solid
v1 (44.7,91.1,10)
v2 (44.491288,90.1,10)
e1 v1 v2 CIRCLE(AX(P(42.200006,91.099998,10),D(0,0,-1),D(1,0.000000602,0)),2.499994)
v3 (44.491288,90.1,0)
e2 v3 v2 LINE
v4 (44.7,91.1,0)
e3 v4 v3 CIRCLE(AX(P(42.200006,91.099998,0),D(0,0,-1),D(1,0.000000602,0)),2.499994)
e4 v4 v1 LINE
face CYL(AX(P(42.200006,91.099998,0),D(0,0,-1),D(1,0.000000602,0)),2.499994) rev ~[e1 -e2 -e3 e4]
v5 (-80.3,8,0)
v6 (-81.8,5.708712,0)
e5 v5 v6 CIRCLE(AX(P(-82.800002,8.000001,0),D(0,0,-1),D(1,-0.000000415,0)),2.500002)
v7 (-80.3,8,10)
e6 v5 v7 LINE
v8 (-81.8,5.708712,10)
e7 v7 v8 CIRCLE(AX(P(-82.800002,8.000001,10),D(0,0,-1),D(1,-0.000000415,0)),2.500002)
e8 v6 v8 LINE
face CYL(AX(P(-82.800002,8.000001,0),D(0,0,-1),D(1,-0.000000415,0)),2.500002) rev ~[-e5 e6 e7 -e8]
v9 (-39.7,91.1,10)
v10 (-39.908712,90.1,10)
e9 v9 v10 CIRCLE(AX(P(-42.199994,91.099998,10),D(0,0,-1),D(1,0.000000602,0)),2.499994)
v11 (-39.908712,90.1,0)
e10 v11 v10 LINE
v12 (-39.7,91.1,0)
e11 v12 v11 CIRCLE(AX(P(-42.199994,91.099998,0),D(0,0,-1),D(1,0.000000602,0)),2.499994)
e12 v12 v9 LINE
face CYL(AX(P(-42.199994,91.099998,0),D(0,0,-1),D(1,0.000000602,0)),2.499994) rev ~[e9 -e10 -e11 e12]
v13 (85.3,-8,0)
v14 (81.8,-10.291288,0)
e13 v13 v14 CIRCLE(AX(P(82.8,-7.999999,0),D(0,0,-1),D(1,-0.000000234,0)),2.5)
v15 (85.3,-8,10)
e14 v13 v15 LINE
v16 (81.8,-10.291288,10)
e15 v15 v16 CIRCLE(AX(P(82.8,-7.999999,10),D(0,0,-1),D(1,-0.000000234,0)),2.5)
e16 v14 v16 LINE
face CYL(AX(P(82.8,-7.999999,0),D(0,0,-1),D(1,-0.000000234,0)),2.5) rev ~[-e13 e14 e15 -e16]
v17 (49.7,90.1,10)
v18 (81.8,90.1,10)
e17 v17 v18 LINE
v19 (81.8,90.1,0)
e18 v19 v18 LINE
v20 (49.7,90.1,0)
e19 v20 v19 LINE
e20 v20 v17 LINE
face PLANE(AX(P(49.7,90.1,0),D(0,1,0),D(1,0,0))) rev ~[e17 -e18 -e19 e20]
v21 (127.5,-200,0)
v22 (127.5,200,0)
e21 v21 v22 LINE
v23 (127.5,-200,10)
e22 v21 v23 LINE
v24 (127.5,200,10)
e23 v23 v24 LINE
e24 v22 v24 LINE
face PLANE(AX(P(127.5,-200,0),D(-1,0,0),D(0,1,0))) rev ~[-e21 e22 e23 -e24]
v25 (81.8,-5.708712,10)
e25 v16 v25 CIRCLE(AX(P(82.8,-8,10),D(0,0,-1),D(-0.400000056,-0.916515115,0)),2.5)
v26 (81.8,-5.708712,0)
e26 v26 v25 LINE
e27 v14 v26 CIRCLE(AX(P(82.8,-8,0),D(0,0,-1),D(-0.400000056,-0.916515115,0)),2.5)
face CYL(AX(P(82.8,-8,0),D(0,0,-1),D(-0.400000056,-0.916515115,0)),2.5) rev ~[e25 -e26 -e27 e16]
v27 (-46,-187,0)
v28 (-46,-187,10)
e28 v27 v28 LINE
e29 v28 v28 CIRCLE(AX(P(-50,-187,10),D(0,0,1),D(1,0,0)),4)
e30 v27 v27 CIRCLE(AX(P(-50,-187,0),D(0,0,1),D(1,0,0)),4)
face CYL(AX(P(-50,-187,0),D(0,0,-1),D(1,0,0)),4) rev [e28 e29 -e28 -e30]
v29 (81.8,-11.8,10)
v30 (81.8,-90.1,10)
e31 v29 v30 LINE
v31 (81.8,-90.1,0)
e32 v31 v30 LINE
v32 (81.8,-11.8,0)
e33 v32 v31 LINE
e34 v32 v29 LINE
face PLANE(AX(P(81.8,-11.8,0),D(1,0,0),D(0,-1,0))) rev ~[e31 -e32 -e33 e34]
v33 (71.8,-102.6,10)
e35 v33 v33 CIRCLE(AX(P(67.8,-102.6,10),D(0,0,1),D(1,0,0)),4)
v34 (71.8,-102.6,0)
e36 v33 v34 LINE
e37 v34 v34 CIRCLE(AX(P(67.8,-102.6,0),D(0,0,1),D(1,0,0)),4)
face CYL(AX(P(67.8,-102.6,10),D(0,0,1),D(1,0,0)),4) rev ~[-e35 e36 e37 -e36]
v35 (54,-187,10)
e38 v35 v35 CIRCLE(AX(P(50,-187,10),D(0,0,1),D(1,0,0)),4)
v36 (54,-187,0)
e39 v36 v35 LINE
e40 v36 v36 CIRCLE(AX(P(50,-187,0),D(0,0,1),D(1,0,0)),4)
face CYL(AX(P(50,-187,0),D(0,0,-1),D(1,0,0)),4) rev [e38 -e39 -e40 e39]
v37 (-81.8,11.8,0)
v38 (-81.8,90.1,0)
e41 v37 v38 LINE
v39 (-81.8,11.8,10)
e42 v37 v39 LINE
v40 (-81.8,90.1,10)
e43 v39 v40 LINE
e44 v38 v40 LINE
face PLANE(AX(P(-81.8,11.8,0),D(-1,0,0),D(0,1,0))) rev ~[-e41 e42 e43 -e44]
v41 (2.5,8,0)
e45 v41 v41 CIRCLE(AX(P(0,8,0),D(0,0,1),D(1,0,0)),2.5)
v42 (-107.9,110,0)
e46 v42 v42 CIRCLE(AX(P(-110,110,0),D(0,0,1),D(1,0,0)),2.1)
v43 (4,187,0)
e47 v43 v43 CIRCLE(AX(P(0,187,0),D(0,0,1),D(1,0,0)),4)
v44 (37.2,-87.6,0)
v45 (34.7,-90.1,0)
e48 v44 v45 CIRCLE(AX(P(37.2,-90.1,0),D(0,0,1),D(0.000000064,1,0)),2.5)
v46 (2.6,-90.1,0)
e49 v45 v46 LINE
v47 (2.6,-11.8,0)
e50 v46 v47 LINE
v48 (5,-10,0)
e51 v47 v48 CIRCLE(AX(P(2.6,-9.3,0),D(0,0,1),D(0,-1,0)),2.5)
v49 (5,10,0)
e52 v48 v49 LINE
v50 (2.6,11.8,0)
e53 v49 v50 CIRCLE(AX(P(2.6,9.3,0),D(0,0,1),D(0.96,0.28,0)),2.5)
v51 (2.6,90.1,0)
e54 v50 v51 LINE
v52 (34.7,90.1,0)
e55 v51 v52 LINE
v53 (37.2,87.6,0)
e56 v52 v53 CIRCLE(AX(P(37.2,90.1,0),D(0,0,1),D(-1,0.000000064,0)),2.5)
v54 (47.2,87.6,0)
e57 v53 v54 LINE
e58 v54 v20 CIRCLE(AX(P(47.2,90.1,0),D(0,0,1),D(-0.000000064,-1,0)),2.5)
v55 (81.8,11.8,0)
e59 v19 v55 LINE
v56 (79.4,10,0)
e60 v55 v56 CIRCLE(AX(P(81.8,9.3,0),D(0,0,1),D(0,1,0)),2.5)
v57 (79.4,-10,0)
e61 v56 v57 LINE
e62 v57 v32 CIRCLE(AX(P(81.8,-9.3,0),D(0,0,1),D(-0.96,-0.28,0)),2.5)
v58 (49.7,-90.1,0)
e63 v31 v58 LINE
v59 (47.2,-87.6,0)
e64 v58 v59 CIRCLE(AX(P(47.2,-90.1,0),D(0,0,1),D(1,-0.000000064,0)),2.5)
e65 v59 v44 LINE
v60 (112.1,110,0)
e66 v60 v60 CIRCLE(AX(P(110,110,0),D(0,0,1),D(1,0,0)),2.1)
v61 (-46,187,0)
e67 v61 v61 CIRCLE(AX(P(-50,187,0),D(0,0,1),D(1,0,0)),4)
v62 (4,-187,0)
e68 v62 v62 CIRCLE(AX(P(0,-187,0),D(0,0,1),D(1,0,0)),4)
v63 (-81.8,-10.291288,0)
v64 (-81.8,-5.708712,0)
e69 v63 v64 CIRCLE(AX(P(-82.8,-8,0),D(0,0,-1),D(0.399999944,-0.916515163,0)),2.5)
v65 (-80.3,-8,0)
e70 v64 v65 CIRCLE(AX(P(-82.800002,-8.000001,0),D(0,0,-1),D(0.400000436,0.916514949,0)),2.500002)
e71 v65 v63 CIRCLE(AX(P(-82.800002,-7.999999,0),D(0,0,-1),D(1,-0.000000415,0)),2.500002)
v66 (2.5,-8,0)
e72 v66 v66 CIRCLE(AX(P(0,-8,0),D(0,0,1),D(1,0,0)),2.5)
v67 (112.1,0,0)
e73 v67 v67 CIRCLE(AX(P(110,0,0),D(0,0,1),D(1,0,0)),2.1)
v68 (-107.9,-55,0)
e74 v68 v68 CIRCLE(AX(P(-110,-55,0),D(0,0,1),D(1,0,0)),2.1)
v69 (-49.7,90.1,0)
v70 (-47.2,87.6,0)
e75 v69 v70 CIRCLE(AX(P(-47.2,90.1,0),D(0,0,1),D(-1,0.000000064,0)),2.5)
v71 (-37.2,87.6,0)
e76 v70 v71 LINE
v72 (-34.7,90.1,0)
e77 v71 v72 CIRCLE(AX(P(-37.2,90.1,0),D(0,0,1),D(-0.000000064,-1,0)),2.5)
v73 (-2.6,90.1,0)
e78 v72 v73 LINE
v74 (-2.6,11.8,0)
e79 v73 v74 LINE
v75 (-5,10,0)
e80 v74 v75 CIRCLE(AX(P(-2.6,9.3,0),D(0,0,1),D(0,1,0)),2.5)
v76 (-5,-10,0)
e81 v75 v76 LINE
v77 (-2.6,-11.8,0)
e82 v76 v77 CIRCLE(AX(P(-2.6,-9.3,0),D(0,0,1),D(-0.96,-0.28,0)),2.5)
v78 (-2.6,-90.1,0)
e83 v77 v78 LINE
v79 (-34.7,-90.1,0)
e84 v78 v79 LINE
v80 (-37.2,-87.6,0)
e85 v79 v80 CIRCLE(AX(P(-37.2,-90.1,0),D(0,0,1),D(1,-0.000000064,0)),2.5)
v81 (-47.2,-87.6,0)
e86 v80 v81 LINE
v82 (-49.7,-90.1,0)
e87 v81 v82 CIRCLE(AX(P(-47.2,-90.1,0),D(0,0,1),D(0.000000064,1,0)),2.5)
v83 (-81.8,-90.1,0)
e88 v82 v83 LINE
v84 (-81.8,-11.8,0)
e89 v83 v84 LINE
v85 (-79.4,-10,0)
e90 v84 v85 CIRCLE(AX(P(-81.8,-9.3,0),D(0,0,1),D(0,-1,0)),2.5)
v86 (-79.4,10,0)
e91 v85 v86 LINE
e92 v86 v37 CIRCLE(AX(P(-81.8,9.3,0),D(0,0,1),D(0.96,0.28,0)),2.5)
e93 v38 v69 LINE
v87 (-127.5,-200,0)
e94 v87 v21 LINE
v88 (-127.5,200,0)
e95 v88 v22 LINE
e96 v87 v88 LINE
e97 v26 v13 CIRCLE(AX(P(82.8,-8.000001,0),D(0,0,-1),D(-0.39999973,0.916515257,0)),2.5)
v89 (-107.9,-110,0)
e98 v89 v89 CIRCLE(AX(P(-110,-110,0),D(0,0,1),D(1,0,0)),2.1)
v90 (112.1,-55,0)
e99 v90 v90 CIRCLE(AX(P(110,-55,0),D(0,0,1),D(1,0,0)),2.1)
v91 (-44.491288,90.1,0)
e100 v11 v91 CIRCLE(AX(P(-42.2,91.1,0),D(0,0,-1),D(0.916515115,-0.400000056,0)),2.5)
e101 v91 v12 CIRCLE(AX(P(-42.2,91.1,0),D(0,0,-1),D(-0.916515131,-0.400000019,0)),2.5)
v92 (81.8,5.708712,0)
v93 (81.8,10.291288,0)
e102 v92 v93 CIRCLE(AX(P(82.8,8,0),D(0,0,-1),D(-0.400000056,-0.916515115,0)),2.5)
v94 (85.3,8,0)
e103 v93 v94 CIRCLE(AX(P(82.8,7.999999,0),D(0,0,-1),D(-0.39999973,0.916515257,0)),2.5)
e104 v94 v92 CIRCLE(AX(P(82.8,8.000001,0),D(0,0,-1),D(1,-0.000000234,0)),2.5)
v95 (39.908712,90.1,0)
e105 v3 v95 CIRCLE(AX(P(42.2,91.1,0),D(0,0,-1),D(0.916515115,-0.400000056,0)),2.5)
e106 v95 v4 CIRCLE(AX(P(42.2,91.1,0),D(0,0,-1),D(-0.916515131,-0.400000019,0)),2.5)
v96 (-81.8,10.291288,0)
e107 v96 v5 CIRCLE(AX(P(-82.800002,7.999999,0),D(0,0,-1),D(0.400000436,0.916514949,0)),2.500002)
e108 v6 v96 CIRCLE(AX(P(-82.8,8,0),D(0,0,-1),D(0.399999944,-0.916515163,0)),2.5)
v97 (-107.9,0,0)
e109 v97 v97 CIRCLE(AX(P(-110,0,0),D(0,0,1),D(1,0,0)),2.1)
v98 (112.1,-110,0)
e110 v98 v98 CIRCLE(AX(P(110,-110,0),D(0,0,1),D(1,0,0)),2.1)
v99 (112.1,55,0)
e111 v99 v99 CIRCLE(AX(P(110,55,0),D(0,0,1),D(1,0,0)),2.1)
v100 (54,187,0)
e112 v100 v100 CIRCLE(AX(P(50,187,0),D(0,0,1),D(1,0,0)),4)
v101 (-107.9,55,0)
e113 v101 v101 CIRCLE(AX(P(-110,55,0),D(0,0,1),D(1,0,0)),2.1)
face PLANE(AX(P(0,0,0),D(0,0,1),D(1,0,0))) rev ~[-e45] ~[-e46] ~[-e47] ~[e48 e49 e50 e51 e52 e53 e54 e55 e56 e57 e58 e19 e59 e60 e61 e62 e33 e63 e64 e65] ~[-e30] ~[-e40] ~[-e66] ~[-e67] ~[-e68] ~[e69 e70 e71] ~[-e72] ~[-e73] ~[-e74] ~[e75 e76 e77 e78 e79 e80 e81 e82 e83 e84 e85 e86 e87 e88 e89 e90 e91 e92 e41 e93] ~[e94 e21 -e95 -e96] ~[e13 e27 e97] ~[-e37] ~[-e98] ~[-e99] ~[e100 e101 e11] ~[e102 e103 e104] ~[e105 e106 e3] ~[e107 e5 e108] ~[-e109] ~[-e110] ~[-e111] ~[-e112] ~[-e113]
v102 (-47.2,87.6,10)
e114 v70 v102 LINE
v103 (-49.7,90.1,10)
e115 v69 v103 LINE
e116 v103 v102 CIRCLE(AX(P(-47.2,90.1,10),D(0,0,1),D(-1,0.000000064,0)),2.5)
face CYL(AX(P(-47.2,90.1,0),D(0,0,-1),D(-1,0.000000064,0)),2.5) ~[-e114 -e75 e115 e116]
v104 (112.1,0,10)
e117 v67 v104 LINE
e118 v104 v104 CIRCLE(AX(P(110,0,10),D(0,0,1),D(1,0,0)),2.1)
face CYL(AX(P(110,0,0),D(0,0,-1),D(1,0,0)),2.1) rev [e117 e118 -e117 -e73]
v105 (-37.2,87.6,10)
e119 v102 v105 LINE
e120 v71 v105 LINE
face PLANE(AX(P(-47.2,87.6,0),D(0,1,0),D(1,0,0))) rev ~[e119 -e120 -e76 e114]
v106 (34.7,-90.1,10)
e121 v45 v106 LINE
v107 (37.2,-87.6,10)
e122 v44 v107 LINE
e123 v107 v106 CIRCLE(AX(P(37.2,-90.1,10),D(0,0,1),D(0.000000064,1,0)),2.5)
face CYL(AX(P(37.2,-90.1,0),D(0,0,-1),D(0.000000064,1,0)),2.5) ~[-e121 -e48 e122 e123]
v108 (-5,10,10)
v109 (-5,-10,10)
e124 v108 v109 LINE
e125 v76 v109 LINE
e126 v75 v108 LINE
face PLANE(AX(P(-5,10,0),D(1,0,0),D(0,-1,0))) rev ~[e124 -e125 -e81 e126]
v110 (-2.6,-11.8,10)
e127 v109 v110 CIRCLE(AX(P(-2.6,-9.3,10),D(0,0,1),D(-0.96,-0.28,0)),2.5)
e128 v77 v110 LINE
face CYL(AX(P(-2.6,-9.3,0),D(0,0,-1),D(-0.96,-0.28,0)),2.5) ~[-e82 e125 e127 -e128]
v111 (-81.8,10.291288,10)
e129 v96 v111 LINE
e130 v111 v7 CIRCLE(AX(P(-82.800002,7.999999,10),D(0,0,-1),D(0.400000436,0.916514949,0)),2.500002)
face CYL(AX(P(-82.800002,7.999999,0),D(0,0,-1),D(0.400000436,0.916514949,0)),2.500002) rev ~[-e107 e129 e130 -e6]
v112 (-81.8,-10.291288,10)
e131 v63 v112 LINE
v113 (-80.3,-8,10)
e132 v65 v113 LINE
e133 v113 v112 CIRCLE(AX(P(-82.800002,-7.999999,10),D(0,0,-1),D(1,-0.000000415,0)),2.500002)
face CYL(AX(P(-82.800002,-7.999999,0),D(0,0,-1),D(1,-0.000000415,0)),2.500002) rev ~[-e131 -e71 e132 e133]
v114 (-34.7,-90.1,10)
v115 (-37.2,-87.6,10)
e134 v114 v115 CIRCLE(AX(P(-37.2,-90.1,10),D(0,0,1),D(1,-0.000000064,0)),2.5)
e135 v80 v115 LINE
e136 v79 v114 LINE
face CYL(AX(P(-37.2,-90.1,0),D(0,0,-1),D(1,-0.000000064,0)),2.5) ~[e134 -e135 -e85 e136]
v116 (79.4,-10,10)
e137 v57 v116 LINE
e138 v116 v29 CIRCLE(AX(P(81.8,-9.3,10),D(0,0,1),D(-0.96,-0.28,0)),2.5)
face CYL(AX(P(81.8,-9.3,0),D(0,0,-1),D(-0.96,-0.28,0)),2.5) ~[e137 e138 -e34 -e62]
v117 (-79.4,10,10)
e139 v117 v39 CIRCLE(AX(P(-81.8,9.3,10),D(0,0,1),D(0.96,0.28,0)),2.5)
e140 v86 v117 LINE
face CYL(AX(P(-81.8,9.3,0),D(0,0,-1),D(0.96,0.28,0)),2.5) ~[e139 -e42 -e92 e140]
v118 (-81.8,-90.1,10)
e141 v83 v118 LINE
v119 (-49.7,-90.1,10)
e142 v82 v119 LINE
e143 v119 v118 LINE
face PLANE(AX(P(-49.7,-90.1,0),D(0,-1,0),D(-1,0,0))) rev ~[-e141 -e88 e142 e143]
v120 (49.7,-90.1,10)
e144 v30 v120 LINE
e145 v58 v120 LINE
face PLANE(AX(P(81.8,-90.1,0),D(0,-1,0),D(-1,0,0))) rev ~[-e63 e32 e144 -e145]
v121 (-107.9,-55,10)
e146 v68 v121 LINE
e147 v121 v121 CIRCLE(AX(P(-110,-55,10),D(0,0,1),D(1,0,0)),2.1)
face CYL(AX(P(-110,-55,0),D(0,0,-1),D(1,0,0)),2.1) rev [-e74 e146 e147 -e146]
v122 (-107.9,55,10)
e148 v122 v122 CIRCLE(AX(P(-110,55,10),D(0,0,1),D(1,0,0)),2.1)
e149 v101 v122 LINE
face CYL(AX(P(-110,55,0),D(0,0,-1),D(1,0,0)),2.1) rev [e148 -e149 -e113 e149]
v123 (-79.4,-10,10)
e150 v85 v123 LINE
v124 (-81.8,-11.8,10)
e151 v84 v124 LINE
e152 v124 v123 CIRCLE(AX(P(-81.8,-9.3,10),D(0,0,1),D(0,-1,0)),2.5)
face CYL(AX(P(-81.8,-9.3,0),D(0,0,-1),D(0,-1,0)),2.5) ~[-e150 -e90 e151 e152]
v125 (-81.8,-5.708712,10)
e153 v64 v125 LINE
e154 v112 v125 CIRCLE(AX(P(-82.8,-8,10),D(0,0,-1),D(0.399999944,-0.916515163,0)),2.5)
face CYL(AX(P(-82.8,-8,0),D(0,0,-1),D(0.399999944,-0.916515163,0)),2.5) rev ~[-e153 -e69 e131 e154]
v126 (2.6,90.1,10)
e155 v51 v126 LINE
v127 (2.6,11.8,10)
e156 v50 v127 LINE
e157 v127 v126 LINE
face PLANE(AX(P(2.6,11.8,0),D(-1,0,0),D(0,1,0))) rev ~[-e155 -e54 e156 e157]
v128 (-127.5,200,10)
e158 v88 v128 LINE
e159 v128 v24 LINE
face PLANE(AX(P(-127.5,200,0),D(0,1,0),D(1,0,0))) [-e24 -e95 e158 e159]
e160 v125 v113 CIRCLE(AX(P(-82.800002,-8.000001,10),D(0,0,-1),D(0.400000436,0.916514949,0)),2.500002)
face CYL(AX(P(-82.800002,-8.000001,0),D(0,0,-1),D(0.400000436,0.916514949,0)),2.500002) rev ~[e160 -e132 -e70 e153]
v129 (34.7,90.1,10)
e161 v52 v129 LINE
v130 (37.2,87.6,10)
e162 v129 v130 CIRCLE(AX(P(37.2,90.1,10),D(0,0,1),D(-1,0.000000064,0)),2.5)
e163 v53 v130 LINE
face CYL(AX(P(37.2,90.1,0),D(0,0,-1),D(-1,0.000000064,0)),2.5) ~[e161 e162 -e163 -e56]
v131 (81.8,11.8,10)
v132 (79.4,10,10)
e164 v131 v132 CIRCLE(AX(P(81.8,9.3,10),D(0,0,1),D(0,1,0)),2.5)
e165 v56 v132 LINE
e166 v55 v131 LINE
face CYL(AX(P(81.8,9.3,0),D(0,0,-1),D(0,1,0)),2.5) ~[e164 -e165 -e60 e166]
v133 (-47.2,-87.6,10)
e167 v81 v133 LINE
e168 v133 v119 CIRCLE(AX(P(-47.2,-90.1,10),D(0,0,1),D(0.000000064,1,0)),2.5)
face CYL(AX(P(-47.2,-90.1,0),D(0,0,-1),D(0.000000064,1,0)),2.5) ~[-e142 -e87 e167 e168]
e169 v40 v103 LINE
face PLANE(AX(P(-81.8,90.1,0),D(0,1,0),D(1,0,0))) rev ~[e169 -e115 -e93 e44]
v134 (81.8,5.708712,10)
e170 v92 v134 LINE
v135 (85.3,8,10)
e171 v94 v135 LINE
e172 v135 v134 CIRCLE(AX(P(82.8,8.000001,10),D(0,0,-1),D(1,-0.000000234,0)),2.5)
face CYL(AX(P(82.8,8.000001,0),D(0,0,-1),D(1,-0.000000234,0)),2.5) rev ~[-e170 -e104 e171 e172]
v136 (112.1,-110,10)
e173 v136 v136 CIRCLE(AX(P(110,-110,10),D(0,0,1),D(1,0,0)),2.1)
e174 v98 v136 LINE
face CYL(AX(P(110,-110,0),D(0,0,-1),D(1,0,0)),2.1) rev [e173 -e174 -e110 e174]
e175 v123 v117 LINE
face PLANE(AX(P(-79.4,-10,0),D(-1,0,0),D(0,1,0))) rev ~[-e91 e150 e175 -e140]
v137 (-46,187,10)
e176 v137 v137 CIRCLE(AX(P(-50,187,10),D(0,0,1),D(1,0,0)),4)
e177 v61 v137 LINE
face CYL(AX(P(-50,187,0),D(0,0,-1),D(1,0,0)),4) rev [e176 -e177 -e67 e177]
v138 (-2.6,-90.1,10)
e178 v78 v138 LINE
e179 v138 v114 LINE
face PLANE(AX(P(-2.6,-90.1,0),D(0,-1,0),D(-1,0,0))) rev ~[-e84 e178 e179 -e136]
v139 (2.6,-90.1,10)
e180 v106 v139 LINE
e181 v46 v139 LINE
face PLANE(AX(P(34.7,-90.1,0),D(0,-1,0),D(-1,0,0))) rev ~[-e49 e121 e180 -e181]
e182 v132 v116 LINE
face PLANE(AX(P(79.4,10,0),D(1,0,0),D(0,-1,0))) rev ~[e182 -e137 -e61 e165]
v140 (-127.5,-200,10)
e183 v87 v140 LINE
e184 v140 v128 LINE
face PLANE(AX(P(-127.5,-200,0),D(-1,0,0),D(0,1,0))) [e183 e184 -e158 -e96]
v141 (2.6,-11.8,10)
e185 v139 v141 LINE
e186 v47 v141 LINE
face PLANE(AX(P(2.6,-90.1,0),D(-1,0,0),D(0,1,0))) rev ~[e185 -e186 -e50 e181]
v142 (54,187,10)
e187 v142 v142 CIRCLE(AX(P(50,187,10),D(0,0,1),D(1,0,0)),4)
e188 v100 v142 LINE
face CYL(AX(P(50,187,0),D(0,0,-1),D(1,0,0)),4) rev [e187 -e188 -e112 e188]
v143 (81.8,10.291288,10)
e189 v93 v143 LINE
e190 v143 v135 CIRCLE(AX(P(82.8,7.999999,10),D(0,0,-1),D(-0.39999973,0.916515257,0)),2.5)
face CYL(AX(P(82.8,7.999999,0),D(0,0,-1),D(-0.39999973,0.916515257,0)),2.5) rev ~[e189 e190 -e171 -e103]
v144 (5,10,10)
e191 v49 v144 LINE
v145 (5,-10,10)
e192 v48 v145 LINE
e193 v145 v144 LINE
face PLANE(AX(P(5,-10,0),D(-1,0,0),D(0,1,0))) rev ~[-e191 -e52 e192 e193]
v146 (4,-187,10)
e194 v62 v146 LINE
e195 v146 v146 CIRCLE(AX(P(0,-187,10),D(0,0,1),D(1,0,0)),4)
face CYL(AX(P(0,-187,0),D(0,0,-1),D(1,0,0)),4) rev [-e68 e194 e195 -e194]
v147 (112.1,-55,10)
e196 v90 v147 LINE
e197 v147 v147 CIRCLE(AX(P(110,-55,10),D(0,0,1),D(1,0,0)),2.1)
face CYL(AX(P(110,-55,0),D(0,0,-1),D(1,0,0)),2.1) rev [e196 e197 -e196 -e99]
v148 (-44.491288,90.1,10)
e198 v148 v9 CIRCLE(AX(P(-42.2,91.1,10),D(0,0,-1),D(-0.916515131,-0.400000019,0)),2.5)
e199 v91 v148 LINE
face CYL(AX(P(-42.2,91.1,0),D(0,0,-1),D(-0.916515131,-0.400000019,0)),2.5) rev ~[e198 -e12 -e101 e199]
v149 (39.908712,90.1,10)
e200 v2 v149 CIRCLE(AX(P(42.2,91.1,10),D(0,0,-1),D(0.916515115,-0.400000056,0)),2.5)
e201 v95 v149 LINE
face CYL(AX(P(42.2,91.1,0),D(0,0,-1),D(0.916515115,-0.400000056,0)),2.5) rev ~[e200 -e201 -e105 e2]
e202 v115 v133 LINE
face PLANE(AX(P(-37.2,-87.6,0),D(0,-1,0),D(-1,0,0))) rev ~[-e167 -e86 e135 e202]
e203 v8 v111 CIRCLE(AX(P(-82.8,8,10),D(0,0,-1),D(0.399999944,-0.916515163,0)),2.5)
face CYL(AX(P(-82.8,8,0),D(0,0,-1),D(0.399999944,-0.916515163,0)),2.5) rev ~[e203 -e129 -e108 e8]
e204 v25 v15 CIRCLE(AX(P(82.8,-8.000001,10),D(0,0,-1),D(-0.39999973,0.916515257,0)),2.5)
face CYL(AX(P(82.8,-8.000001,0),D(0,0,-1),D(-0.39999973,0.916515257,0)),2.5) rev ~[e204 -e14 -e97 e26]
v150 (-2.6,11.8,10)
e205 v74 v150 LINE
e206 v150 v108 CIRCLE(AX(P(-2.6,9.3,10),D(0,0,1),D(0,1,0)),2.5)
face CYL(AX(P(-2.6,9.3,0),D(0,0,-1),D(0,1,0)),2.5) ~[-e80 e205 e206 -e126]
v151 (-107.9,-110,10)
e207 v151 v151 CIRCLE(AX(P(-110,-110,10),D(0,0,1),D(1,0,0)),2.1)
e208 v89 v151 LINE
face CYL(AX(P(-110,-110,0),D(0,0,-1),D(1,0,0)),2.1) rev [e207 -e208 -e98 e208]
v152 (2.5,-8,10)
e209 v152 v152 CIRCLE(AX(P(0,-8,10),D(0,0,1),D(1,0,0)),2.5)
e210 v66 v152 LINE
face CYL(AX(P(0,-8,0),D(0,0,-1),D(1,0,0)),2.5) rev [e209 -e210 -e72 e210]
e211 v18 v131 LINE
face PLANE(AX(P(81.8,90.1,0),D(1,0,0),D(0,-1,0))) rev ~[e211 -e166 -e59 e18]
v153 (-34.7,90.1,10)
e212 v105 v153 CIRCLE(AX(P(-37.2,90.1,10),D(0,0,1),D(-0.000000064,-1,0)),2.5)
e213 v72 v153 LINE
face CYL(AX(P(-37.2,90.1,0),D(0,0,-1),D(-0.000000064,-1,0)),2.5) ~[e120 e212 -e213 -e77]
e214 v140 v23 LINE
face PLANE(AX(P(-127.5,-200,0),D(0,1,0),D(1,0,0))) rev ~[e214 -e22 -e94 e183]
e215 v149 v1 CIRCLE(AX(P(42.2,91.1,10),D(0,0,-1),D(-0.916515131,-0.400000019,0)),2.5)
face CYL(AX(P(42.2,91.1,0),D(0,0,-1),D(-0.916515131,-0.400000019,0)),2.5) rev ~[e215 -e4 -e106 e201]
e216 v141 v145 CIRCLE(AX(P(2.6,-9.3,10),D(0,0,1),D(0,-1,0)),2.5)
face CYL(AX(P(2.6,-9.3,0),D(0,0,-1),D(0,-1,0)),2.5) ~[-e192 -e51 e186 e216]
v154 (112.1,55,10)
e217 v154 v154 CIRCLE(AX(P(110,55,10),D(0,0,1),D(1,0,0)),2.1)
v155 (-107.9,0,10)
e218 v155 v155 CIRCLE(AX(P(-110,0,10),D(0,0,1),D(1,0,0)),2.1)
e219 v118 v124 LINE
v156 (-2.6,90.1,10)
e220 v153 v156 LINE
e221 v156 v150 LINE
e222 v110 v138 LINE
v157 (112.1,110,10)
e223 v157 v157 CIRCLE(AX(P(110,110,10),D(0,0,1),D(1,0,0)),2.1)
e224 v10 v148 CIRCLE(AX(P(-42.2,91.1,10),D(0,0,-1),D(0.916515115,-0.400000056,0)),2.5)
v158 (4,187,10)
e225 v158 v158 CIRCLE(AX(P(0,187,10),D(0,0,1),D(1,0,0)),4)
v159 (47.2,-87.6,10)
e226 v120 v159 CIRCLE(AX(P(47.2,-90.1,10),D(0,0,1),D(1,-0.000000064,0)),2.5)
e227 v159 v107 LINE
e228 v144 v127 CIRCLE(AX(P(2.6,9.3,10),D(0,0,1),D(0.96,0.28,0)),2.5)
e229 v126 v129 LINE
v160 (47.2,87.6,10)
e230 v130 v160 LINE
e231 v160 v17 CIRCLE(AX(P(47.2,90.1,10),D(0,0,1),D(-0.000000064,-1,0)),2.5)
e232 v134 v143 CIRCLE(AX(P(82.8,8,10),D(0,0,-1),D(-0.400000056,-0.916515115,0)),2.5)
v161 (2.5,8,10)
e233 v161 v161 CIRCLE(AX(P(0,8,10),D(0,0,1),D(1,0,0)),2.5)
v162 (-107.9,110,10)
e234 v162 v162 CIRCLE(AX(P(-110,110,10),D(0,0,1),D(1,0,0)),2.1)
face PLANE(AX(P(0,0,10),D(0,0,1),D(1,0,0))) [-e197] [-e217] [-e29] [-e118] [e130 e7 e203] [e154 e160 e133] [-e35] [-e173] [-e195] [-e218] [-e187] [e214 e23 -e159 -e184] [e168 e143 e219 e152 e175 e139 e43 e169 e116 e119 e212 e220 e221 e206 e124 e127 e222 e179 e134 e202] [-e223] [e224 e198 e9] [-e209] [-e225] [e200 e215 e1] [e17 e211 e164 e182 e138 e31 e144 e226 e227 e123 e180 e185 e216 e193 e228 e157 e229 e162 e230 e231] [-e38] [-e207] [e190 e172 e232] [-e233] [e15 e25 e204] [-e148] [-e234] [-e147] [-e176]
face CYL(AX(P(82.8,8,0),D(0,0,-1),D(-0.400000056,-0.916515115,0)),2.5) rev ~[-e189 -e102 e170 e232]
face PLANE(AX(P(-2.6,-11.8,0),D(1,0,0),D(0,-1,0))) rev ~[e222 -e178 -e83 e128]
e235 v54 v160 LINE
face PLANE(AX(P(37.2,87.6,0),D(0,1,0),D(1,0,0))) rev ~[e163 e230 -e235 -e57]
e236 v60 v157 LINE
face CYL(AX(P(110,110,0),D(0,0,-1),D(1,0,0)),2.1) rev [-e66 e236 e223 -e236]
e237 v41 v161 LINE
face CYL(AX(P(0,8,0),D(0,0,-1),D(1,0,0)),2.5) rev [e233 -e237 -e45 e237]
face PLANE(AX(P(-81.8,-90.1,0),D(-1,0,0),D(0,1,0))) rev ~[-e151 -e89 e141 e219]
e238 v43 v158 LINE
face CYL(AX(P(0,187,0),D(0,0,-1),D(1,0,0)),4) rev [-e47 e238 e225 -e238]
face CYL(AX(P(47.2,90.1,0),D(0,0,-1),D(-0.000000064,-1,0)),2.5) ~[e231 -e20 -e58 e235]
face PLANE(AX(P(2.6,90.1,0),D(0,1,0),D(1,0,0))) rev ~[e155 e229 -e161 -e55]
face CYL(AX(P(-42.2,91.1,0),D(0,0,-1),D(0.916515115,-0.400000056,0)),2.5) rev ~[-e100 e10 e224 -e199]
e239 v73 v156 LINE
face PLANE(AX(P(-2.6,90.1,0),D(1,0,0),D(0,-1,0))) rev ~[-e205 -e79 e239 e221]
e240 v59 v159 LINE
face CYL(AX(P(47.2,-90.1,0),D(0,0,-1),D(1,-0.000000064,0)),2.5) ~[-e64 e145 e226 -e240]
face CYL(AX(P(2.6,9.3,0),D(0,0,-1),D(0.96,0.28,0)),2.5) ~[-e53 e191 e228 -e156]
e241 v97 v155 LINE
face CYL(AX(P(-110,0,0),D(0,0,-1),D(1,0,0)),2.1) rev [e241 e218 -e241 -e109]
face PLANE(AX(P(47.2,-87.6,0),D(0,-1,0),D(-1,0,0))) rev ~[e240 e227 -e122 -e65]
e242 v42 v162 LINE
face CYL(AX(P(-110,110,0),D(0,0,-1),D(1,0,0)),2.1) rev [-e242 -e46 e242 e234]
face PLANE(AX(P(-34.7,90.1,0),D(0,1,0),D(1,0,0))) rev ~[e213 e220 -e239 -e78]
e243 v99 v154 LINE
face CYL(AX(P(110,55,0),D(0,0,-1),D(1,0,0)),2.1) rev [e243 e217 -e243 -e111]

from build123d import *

# Parameters (mm, degrees)
F0_W     = 255
F0_H     = 400
F0_R     = 2.1
F0_R_2   = 4
F0_R_3   = 2.5
F1_DEPTH = 10
F2_R     = 4
F3_DEPTH = 10.001


with BuildPart() as f1:
    # F0 (on Top) → F1 (new body)
    with BuildSketch(Plane.XY):
        Rectangle(F0_W, F0_H)
        with Locations((-110, -110)):
            Circle(F0_R, mode=Mode.SUBTRACT)
        with Locations((-50, -187)):
            Circle(F0_R_2, mode=Mode.SUBTRACT)
        with Locations((-110, -55)):
            Circle(F0_R, mode=Mode.SUBTRACT)
        with Locations((0, -187)):
            Circle(F0_R_2, mode=Mode.SUBTRACT)
        with Locations((50, -187)):
            Circle(F0_R_2, mode=Mode.SUBTRACT)
        with Locations((110, -110)):
            Circle(F0_R, mode=Mode.SUBTRACT)
        with Locations((0, -8)):
            Circle(F0_R_3, mode=Mode.SUBTRACT)
        with Locations((110, -55)):
            Circle(F0_R, mode=Mode.SUBTRACT)
        with Locations((-110, 0)):
            Circle(F0_R, mode=Mode.SUBTRACT)
        with Locations((-110, 55)):
            Circle(F0_R, mode=Mode.SUBTRACT)
        with BuildLine():
            Line((-34.7, 90.1), (-2.6, 90.1))
            Line((-2.6, 90.1), (-2.6, 11.8))
            Line((-2.6, 11.8), (-2.6, -11.8))
            Line((-2.6, -11.8), (-2.6, -90.1))
            Line((-2.6, -90.1), (-34.7, -90.1))
            Line((-34.7, -90.1), (-49.7, -90.1))
            Line((-49.7, -90.1), (-81.8, -90.1))
            Line((-81.8, -90.1), (-81.8, -11.8))
            Line((-81.8, -11.8), (-81.8, -10.291288))
            ThreePointArc((-81.8, -10.291288), (-85.3, -8), (-81.8, -5.708712))
            Line((-81.8, -5.708712), (-81.8, 5.708712))
            ThreePointArc((-81.8, 5.708712), (-85.3, 8), (-81.8, 10.291288))
            Line((-81.8, 10.291288), (-81.8, 11.8))
            Line((-81.8, 11.8), (-81.8, 90.1))
            Line((-81.8, 90.1), (-49.7, 90.1))
            Line((-49.7, 90.1), (-44.491288, 90.1))
            ThreePointArc((-44.491288, 90.1), (-42.710774, 93.547266), (-39.7, 91.1))
            ThreePointArc((-39.7, 91.1), (-39.752734, 90.589226), (-39.908712, 90.1))
            Line((-39.908712, 90.1), (-34.7, 90.1))
        make_face(mode=Mode.SUBTRACT)
        with Locations((-110, 110)):
            Circle(F0_R, mode=Mode.SUBTRACT)
        with Locations((-50, 187)):
            Circle(F0_R_2, mode=Mode.SUBTRACT)
        with Locations((0, 8)):
            Circle(F0_R_3, mode=Mode.SUBTRACT)
        with BuildLine():
            Line((2.6, 11.8), (2.6, 90.1))
            Line((2.6, 90.1), (34.7, 90.1))
            Line((34.7, 90.1), (39.908712, 90.1))
            ThreePointArc((39.908712, 90.1), (41.689226, 93.547266), (44.7, 91.1))
            ThreePointArc((44.7, 91.1), (44.647266, 90.589226), (44.491288, 90.1))
            Line((44.491288, 90.1), (49.7, 90.1))
            Line((49.7, 90.1), (81.8, 90.1))
            Line((81.8, 90.1), (81.8, 11.8))
            Line((81.8, 11.8), (81.8, 10.291288))
            ThreePointArc((81.8, 10.291288), (84.169306, 10.09165), (85.3, 8))
            ThreePointArc((85.3, 8), (84.169306, 5.90835), (81.8, 5.708712))
            Line((81.8, 5.708712), (81.8, -5.708712))
            ThreePointArc((81.8, -5.708712), (84.169306, -5.90835), (85.3, -8))
            ThreePointArc((85.3, -8), (84.169306, -10.09165), (81.8, -10.291288))
            Line((81.8, -10.291288), (81.8, -11.8))
            Line((81.8, -11.8), (81.8, -90.1))
            Line((81.8, -90.1), (49.7, -90.1))
            Line((49.7, -90.1), (34.7, -90.1))
            Line((34.7, -90.1), (2.6, -90.1))
            Line((2.6, -90.1), (2.6, -11.8))
            Line((2.6, -11.8), (2.6, 11.8))
        make_face(mode=Mode.SUBTRACT)
        with Locations((110, 0)):
            Circle(F0_R, mode=Mode.SUBTRACT)
        with Locations((110, 55)):
            Circle(F0_R, mode=Mode.SUBTRACT)
        with Locations((0, 187)):
            Circle(F0_R_2, mode=Mode.SUBTRACT)
        with Locations((50, 187)):
            Circle(F0_R_2, mode=Mode.SUBTRACT)
        with Locations((110, 110)):
            Circle(F0_R, mode=Mode.SUBTRACT)
        with BuildLine():
            Line((81.8, 10.291288), (81.8, 11.8))
            ThreePointArc((81.8, 11.8), (80.3, 11.3), (79.4, 10))
            Line((79.4, 10), (79.4, 0))
            Line((79.4, 0), (79.4, -10))
            ThreePointArc((79.4, -10), (80.3, -11.3), (81.8, -11.8))
            Line((81.8, -11.8), (81.8, -10.291288))
            ThreePointArc((81.8, -10.291288), (80.3, -8), (81.8, -5.708712))
            Line((81.8, -5.708712), (81.8, 5.708712))
            ThreePointArc((81.8, 5.708712), (80.3, 8), (81.8, 10.291288))
        make_face()
        with BuildLine():
            Line((39.908712, 90.1), (34.7, 90.1))
            ThreePointArc((34.7, 90.1), (35.432233, 88.332233), (37.2, 87.6))
            Line((37.2, 87.6), (42.2, 87.6))
            Line((42.2, 87.6), (47.2, 87.6))
            ThreePointArc((47.2, 87.6), (48.967767, 88.332233), (49.7, 90.1))
            Line((49.7, 90.1), (44.491288, 90.1))
            ThreePointArc((44.491288, 90.1), (42.2, 88.6), (39.908712, 90.1))
        make_face()
        with BuildLine():
            ThreePointArc((37.2, -87.6), (35.432233, -88.332233), (34.7, -90.1))
            Line((34.7, -90.1), (49.7, -90.1))
            ThreePointArc((49.7, -90.1), (48.967767, -88.332233), (47.2, -87.6))
            Line((47.2, -87.6), (42.2, -87.6))
            Line((42.2, -87.6), (37.2, -87.6))
        make_face()
        with BuildLine():
            ThreePointArc((5, 10), (4.1, 11.3), (2.6, 11.8))
            Line((2.6, 11.8), (2.6, -11.8))
            ThreePointArc((2.6, -11.8), (4.1, -11.3), (5, -10))
            Line((5, -10), (5, 0))
            Line((5, 0), (5, 10))
        make_face()
        with BuildLine():
            Line((-2.6, -11.8), (-2.6, 11.8))
            ThreePointArc((-2.6, 11.8), (-4.1, 11.3), (-5, 10))
            Line((-5, 10), (-5, 0))
            Line((-5, 0), (-5, -10))
            ThreePointArc((-5, -10), (-4.1, -11.3), (-2.6, -11.8))
        make_face()
        with BuildLine():
            ThreePointArc((-79.4, 10), (-80.3, 11.3), (-81.8, 11.8))
            Line((-81.8, 11.8), (-81.8, 10.291288))
            ThreePointArc((-81.8, 10.291288), (-80.70835, 9.369306), (-80.3, 8))
            ThreePointArc((-80.3, 8), (-80.70835, 6.630694), (-81.8, 5.708712))
            Line((-81.8, 5.708712), (-81.8, -5.708712))
            ThreePointArc((-81.8, -5.708712), (-80.70835, -6.630694), (-80.3, -8))
            ThreePointArc((-80.3, -8), (-80.70835, -9.369306), (-81.8, -10.291288))
            Line((-81.8, -10.291288), (-81.8, -11.8))
            ThreePointArc((-81.8, -11.8), (-80.3, -11.3), (-79.4, -10))
            Line((-79.4, -10), (-79.4, 0))
            Line((-79.4, 0), (-79.4, 10))
        make_face()
        with BuildLine():
            ThreePointArc((-37.2, 87.6), (-35.432233, 88.332233), (-34.7, 90.1))
            Line((-34.7, 90.1), (-39.908712, 90.1))
            ThreePointArc((-39.908712, 90.1), (-42.2, 88.6), (-44.491288, 90.1))
            Line((-44.491288, 90.1), (-49.7, 90.1))
            ThreePointArc((-49.7, 90.1), (-48.967767, 88.332233), (-47.2, 87.6))
            Line((-47.2, 87.6), (-42.2, 87.6))
            Line((-42.2, 87.6), (-37.2, 87.6))
        make_face()
        with BuildLine():
            Line((-49.7, -90.1), (-34.7, -90.1))
            ThreePointArc((-34.7, -90.1), (-35.432233, -88.332233), (-37.2, -87.6))
            Line((-37.2, -87.6), (-42.2, -87.6))
            Line((-42.2, -87.6), (-47.2, -87.6))
            ThreePointArc((-47.2, -87.6), (-48.967767, -88.332233), (-49.7, -90.1))
        make_face()
    extrude(amount=F1_DEPTH)

    # F2 (on face) → F3 (cut, through all)
    with BuildSketch(Plane.XY.offset(10)):
        with Locations((67.8, -102.6)):
            Circle(F2_R)
    extrude(amount=-F3_DEPTH, mode=Mode.SUBTRACT)


solid = f1.part
